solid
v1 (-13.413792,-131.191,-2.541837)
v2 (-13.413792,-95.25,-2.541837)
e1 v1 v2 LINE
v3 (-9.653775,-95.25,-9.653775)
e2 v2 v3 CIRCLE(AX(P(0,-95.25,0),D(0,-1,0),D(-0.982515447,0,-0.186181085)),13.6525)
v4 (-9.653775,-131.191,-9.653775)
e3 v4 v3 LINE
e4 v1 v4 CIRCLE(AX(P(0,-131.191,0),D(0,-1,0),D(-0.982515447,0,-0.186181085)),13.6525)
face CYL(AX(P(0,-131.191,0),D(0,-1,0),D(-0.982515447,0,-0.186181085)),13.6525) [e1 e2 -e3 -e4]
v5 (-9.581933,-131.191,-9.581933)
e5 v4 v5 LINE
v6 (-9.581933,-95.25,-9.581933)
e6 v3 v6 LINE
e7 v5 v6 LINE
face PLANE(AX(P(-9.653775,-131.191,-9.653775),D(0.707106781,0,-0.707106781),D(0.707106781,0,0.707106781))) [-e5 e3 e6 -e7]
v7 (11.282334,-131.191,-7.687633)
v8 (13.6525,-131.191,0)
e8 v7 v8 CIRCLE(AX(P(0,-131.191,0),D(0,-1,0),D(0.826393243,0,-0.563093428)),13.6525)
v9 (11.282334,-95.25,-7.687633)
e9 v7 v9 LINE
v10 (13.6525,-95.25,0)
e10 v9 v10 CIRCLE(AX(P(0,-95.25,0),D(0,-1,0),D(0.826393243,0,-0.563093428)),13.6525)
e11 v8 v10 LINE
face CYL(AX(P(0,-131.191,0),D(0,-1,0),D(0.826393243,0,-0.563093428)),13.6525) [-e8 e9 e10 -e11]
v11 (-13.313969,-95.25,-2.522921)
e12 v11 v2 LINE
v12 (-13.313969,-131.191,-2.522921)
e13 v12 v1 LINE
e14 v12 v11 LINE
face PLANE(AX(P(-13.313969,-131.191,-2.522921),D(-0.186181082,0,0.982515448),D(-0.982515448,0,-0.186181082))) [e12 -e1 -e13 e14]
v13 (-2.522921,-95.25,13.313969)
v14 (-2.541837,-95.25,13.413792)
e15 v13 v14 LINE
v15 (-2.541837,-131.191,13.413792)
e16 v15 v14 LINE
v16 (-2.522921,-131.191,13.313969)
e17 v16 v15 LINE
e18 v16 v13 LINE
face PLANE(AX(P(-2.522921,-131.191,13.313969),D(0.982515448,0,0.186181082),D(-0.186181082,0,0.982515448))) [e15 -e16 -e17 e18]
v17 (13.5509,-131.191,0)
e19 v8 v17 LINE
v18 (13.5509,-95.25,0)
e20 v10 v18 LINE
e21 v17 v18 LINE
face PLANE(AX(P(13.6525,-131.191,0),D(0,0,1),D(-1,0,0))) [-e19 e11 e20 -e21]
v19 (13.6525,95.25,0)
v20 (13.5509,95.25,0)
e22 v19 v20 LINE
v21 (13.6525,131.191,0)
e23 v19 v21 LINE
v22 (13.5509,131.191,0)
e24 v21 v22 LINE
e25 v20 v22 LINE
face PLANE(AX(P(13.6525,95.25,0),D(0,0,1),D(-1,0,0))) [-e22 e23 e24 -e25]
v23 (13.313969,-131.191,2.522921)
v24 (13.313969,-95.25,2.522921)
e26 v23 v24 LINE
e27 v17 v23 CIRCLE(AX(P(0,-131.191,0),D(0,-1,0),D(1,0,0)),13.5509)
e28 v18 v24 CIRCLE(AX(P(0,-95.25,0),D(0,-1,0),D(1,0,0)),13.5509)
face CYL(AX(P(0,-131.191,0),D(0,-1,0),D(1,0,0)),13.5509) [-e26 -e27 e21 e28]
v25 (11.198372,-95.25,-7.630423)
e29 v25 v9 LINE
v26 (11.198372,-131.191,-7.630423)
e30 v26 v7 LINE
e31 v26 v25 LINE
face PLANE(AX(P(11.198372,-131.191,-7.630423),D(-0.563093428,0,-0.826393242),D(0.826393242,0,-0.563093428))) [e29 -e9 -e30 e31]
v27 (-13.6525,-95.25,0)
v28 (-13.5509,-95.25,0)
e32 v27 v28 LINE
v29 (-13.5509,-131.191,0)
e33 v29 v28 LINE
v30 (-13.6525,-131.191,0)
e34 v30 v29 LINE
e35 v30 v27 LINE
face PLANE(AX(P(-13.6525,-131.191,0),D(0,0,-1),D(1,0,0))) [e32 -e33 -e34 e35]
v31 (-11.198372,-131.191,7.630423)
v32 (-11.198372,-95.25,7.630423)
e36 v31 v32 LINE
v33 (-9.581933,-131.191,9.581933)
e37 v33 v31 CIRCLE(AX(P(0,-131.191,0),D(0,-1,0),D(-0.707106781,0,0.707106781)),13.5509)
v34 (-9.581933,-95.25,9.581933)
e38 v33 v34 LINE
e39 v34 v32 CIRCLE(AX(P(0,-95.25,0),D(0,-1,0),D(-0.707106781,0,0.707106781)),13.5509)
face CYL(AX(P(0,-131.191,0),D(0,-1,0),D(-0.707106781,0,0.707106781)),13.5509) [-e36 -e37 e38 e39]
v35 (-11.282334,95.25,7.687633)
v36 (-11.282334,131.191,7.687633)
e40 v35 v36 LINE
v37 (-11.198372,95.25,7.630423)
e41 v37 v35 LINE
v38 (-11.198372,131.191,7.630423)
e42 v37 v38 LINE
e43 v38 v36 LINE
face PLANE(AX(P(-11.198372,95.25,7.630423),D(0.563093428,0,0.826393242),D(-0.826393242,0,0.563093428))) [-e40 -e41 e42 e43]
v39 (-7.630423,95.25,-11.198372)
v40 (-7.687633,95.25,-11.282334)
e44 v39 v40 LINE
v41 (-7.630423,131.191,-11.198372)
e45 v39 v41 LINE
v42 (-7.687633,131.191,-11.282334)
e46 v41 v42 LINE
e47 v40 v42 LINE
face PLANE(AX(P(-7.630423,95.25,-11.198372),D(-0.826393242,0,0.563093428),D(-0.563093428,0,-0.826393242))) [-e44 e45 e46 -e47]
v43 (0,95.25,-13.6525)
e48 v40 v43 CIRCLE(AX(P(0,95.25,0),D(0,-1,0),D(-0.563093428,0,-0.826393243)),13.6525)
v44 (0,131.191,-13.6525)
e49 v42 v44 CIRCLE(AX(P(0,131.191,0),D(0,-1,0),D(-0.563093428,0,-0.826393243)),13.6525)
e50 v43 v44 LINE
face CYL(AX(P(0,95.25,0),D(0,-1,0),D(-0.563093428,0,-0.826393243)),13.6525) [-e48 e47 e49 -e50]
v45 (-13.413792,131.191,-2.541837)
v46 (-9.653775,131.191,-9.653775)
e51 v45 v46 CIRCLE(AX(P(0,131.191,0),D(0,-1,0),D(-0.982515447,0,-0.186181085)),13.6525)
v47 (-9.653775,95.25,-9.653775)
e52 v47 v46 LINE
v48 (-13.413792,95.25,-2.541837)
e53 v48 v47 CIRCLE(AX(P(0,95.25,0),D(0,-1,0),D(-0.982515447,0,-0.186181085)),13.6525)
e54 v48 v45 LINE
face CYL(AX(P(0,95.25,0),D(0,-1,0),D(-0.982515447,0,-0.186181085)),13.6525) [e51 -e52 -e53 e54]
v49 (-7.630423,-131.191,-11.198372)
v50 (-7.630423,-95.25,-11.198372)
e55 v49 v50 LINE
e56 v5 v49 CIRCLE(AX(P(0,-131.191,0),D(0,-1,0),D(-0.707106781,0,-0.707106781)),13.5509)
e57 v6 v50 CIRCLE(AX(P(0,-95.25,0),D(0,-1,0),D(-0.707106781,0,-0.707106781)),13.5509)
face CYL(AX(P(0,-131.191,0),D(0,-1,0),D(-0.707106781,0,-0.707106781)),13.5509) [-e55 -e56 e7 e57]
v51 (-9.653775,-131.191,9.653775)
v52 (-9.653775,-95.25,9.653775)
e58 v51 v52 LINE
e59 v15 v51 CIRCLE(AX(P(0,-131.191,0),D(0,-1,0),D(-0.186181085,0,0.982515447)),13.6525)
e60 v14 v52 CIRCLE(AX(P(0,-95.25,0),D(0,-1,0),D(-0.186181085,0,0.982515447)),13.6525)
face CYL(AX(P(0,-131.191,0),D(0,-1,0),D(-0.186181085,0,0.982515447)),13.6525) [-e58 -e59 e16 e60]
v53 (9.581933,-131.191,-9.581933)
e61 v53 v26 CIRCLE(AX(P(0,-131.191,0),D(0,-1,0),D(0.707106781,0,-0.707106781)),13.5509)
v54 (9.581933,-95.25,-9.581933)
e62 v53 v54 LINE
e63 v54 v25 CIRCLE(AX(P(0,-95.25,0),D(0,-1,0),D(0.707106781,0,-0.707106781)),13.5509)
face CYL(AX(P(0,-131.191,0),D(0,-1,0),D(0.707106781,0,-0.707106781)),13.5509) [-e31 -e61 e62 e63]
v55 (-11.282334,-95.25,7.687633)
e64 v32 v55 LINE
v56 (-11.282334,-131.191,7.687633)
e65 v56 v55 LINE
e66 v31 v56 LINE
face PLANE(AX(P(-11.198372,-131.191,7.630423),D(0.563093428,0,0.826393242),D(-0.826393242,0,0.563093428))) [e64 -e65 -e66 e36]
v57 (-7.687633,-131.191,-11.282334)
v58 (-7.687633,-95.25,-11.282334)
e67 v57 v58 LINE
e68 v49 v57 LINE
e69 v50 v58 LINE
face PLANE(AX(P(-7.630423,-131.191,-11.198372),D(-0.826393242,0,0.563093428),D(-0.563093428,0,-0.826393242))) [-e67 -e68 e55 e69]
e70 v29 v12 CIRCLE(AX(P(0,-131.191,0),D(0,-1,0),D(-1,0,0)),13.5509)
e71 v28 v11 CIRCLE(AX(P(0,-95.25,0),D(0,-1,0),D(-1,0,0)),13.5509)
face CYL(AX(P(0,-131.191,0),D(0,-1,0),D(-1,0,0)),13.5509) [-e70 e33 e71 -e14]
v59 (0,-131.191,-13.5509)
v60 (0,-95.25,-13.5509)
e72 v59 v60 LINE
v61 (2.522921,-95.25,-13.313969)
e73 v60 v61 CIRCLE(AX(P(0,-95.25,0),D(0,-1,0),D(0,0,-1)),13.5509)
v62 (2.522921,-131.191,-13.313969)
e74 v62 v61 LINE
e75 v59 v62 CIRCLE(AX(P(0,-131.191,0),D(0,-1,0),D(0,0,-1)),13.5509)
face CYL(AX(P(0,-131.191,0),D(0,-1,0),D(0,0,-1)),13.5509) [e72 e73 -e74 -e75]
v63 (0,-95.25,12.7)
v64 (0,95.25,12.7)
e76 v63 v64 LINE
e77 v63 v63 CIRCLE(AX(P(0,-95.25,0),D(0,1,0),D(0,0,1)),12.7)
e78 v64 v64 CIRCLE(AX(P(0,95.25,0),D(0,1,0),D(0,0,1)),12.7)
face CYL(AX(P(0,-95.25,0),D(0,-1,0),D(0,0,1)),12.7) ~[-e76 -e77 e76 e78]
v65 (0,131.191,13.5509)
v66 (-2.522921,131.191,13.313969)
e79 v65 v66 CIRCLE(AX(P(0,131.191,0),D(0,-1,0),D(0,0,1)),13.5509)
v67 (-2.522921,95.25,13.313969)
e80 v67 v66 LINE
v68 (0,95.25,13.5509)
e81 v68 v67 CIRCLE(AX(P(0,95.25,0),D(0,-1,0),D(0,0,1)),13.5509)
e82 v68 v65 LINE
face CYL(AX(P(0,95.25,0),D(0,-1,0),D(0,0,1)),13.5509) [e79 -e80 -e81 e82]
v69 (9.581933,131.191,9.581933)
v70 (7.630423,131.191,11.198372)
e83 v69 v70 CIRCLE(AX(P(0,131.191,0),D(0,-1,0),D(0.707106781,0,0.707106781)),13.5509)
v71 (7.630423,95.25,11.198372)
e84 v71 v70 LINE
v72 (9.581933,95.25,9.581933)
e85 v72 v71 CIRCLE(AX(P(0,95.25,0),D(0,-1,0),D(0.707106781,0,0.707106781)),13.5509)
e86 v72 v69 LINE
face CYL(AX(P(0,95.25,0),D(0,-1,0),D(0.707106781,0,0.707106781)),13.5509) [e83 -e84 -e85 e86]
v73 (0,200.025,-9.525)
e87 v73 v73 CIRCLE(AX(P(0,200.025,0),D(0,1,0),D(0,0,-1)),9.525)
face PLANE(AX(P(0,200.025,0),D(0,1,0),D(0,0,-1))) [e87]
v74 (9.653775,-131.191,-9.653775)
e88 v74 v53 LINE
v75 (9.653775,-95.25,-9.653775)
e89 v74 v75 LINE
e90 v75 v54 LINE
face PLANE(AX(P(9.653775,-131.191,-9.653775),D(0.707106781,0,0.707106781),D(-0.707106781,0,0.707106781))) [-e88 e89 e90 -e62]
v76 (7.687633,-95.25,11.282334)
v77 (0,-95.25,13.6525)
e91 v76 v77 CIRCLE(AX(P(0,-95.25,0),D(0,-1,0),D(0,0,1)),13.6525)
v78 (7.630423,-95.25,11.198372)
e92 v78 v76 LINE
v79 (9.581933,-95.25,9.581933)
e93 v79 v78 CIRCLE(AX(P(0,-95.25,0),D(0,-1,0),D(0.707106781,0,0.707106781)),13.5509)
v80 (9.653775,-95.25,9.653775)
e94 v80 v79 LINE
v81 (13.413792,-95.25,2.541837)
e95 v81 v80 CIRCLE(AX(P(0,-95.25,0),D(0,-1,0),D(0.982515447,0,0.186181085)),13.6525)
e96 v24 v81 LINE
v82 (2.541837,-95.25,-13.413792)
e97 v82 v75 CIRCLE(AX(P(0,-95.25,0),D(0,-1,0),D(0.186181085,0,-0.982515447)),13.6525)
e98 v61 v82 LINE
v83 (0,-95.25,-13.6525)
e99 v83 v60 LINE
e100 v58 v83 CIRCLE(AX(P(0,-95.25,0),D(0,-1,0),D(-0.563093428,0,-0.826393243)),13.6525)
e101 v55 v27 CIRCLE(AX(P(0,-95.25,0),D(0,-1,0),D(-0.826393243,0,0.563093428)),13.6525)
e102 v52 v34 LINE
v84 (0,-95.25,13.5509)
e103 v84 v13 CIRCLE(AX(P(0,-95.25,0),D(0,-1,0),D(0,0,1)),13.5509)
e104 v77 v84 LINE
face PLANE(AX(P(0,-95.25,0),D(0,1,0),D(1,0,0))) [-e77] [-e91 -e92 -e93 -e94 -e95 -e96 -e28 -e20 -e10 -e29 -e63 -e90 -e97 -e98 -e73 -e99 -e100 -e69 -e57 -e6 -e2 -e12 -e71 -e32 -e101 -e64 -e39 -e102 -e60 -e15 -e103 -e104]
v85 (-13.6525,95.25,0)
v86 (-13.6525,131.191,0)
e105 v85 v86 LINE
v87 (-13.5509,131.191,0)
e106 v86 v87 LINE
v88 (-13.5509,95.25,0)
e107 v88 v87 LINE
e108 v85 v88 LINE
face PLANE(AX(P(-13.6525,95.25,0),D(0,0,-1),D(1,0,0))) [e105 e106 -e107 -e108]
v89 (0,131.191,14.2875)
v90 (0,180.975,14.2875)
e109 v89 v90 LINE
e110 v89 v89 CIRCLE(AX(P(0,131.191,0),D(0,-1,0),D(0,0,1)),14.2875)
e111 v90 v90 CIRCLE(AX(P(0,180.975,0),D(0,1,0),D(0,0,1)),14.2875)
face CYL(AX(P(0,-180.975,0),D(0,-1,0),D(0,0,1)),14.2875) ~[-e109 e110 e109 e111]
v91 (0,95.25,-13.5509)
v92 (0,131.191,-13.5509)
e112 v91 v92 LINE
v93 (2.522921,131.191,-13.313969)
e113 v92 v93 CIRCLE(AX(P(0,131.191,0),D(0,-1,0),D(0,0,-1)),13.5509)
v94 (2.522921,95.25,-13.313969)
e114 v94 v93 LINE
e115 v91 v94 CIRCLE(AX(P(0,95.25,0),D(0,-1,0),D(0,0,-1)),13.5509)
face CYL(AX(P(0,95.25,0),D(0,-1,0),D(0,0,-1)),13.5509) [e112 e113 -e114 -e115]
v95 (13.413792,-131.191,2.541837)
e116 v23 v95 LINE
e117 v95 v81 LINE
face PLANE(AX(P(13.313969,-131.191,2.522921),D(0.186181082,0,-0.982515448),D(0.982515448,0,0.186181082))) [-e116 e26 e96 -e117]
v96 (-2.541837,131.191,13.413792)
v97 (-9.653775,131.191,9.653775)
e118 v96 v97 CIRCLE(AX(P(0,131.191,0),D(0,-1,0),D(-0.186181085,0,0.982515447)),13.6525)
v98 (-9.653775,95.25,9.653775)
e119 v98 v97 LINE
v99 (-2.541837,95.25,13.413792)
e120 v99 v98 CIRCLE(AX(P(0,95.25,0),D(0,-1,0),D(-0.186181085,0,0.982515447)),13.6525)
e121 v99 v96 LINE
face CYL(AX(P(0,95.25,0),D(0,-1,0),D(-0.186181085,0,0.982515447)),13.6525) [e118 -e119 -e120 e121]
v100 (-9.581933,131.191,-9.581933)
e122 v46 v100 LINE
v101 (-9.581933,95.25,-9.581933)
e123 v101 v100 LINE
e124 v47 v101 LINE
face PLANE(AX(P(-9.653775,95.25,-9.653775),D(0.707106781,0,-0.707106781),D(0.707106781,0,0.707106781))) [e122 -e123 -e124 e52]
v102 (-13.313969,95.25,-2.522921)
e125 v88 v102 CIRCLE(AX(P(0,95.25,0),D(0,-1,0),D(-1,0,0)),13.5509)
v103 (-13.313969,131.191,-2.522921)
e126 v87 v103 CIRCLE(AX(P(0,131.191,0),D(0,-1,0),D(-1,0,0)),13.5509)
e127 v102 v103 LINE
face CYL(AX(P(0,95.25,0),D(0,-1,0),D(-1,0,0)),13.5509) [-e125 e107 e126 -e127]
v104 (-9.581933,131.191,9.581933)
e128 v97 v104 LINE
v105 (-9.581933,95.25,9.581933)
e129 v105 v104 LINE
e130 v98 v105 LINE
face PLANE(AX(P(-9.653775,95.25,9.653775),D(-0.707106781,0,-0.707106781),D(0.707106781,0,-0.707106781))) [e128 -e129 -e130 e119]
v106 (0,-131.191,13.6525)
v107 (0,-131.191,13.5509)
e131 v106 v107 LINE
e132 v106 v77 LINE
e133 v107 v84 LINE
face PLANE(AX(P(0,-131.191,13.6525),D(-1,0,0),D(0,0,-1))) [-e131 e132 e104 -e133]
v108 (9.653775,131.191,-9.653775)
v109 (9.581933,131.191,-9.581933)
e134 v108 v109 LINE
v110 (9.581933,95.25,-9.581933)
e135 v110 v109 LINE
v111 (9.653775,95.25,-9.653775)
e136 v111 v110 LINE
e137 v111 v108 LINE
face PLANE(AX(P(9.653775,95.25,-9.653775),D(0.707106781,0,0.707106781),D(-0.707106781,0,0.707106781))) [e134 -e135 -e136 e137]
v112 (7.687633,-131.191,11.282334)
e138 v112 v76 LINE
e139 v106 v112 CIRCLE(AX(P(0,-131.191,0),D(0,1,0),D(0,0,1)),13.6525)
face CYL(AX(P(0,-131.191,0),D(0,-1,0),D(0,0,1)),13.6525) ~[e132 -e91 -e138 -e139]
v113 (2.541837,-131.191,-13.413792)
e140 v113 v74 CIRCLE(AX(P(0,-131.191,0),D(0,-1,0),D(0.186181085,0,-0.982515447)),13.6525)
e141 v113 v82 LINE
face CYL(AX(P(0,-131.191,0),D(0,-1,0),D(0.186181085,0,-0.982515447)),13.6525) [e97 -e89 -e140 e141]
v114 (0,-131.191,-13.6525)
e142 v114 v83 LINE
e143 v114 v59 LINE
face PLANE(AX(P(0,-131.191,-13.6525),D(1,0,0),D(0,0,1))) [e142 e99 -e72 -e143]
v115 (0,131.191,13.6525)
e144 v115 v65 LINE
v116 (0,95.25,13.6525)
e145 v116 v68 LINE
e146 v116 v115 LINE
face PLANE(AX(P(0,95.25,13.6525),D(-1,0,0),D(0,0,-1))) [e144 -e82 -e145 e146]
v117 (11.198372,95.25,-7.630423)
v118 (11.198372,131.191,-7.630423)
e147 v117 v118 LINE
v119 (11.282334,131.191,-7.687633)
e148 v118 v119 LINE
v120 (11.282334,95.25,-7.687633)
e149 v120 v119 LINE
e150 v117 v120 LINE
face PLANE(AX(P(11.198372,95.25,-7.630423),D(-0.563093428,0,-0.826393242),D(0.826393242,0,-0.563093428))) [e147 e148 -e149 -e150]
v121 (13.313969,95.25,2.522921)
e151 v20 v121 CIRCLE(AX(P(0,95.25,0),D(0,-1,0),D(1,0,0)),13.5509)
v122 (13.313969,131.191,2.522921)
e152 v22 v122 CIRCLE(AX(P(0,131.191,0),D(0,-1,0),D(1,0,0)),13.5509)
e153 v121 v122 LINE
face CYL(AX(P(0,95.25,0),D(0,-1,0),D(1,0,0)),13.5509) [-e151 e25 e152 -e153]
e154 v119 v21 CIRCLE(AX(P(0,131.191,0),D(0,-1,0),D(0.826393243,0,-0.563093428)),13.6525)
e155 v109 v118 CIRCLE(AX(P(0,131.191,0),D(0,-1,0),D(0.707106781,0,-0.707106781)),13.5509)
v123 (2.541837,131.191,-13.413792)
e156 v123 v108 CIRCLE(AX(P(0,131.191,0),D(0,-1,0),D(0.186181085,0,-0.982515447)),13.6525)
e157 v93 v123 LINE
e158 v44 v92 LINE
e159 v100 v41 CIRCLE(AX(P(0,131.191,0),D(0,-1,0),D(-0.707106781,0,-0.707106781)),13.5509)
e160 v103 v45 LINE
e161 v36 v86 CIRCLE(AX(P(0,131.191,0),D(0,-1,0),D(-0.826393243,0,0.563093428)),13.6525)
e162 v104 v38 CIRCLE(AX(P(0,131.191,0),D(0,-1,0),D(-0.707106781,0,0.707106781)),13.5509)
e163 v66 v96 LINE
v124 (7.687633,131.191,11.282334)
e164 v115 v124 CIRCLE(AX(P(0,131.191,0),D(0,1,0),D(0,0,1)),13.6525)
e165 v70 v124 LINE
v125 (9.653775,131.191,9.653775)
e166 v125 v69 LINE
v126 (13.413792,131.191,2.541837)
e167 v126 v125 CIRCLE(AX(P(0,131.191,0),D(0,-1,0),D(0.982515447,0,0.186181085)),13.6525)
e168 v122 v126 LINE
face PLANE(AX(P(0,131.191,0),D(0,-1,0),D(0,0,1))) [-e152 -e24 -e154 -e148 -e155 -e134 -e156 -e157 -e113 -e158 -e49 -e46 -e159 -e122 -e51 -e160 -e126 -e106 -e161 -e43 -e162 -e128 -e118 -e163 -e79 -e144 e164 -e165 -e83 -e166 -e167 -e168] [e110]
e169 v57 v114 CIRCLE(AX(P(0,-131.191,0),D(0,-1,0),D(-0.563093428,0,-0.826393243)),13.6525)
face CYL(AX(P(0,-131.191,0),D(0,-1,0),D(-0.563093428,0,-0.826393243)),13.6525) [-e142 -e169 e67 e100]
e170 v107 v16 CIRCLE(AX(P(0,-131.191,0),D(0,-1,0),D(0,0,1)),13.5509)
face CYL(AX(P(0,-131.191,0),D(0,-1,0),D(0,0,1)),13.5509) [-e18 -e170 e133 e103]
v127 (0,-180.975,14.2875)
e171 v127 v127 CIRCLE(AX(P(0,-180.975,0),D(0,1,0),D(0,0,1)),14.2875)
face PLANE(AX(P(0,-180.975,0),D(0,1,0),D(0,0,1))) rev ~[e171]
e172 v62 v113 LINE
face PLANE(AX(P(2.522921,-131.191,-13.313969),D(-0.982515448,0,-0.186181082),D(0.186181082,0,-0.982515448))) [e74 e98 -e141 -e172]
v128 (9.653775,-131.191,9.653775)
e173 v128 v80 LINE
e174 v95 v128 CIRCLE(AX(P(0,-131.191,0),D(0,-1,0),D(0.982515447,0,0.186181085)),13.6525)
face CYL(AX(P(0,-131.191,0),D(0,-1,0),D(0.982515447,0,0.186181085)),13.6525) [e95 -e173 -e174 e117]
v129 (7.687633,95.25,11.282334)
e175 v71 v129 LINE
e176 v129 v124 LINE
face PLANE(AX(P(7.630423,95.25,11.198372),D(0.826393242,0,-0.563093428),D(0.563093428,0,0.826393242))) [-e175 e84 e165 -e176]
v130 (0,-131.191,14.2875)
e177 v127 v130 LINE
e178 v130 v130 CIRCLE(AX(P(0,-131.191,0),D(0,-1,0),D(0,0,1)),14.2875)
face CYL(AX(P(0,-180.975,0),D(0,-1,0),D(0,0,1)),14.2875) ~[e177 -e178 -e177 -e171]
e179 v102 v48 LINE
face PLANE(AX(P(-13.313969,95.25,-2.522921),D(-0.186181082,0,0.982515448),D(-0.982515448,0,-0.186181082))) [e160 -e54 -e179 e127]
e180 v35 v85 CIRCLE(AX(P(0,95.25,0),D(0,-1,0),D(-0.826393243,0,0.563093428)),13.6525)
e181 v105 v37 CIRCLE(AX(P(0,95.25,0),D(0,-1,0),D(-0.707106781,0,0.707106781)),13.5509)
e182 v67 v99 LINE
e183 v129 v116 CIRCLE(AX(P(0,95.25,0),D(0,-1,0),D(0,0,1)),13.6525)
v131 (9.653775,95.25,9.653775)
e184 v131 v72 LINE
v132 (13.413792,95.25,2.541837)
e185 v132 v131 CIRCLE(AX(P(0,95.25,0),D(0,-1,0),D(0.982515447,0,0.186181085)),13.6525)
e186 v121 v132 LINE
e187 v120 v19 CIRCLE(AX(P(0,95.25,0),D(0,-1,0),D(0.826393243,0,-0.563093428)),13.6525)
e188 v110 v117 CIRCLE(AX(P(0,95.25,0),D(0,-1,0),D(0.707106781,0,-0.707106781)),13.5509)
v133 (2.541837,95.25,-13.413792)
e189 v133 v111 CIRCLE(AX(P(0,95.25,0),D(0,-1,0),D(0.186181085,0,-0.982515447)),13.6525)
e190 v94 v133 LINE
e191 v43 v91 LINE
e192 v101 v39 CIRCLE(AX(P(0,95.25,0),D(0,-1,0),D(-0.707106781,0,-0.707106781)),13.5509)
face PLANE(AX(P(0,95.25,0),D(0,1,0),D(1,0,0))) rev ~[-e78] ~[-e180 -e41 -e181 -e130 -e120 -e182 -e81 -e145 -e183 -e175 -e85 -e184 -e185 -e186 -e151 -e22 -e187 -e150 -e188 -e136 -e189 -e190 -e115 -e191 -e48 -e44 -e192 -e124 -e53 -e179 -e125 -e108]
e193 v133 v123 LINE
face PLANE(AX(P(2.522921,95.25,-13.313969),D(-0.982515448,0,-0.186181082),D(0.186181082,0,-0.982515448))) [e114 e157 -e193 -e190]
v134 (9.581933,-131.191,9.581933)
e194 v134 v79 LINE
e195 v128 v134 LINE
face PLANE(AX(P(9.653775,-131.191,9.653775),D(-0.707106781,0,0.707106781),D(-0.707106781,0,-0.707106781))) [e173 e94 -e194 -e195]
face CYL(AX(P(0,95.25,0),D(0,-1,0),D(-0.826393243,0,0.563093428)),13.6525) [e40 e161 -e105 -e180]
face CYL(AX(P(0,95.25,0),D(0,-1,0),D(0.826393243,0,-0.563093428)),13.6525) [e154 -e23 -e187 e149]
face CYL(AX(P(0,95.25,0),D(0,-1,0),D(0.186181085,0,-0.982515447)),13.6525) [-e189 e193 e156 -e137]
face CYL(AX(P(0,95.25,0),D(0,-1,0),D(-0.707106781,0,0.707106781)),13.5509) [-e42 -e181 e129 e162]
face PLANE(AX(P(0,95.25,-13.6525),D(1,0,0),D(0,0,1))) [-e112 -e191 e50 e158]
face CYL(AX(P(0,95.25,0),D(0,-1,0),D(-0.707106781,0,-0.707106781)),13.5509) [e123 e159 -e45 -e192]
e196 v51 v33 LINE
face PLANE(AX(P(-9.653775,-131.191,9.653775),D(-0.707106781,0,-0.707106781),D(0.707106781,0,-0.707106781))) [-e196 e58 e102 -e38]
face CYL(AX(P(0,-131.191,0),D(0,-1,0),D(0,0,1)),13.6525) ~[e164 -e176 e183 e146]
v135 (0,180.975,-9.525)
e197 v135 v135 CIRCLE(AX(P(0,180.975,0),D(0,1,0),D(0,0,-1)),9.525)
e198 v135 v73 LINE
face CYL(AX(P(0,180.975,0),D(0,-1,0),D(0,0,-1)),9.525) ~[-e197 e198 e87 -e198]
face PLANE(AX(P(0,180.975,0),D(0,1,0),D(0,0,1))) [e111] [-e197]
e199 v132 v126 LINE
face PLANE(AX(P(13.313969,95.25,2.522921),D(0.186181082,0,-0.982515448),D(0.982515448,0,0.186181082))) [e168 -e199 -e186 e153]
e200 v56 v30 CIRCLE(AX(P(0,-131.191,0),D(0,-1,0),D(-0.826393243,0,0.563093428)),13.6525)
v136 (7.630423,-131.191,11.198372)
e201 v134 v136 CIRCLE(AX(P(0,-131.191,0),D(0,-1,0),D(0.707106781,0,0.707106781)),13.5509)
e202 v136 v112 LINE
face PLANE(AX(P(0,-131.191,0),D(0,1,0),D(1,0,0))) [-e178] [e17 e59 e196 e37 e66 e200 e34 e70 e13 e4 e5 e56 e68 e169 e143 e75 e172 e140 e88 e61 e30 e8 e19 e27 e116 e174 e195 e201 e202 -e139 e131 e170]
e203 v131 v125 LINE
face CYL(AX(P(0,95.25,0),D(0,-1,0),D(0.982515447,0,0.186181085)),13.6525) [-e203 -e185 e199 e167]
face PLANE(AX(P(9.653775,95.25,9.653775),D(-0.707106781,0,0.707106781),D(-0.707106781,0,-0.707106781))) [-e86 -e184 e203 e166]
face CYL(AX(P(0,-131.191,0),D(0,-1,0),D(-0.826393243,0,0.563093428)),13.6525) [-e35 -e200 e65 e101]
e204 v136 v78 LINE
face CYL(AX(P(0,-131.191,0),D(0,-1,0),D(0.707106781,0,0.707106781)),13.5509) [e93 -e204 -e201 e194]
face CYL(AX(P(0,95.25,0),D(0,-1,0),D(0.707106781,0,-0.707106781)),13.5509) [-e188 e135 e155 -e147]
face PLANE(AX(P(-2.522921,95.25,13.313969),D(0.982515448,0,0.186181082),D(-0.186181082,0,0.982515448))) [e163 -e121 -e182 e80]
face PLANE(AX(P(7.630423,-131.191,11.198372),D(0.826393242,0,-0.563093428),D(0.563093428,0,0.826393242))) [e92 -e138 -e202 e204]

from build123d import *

# Parameters (mm, degrees)
BOSS_EXTRUDE1_DEPTH      = 180.975
BOSS_EXTRUDE1_DEPTH_BACK = 180.975
SKETCH1_R                = 14.2875
CUT_EXTRUDE1_DEPTH       = 95.25
CUT_EXTRUDE1_DEPTH_BACK  = 95.25
SKETCH2_OUTSIDE_W        = 103.416
SKETCH2_OUTSIDE_H        = 103.416
SKETCH2_OUTSIDE_R        = 12.7
CUT_EXTRUDE2_DEPTH       = 131.191
CUT_EXTRUDE2_DEPTH_BACK  = 131.191
SKETCH3_OUTSIDE_W        = 103.416
SKETCH3_OUTSIDE_H        = 103.416
SKETCH3_OUTSIDE_R        = 13.6525
SKETCH5_OUTSIDE_W        = 103.416
SKETCH5_OUTSIDE_H        = 103.416
CUT_EXTRUDE4_DEPTH       = 35.941
CUT_EXTRUDE7_START       = 35.941
SKETCH6_R                = 14.2875
CUT_EXTRUDE7_DEPTH       = 35.941
SKETCH7_R                = 9.525
BOSS_EXTRUDE2_DEPTH      = 19.05


with BuildPart() as part:
    # Sketch1 → Boss-Extrude1 (new, two sides: drawn at the far end of the back side and taken through both)
    with BuildSketch(Plane(origin=(0, 0, 0), x_dir=(1, 0, 0), z_dir=(0, 1, 0)).offset(-BOSS_EXTRUDE1_DEPTH_BACK)):
        with Locations(Location((0, 0, 0), (0, 0, 270))):
            Circle(SKETCH1_R)
    extrude(amount=BOSS_EXTRUDE1_DEPTH + BOSS_EXTRUDE1_DEPTH_BACK)

    # Sketch2 outside → Cut-Extrude1 (cut, two sides: drawn at the far end of the back side and taken through both)
    with BuildSketch(Plane(origin=(0, 0, 0), x_dir=(1, 0, 0), z_dir=(0, 1, 0)).offset(-CUT_EXTRUDE1_DEPTH_BACK)):
        Rectangle(SKETCH2_OUTSIDE_W, SKETCH2_OUTSIDE_H)
        with Locations(Location((0, 0, 0), (0, 0, 270))):
            Circle(SKETCH2_OUTSIDE_R, mode=Mode.SUBTRACT)
    extrude(amount=CUT_EXTRUDE1_DEPTH + CUT_EXTRUDE1_DEPTH_BACK, mode=Mode.SUBTRACT)

    # Sketch3 outside → Cut-Extrude2 (cut, two sides: drawn at the far end of the back side and taken through both)
    with BuildSketch(Plane(origin=(0, 0, 0), x_dir=(1, 0, 0), z_dir=(0, 1, 0)).offset(-CUT_EXTRUDE2_DEPTH_BACK)):
        Rectangle(SKETCH3_OUTSIDE_W, SKETCH3_OUTSIDE_H)
        with Locations(Location((0, 0, 0), (0, 0, 270))):
            Circle(SKETCH3_OUTSIDE_R, mode=Mode.SUBTRACT)
    extrude(amount=CUT_EXTRUDE2_DEPTH + CUT_EXTRUDE2_DEPTH_BACK, mode=Mode.SUBTRACT)

    # Sketch5 outside → Cut-Extrude4 (cut)
    with BuildSketch(Plane(origin=(0, -131.191, 0), x_dir=(1, 0, 0), z_dir=(0, 1, 0))):
        Rectangle(SKETCH5_OUTSIDE_W, SKETCH5_OUTSIDE_H)
        with BuildLine():
            Line((0, -13.6525), (0, -13.5509))
            ThreePointArc((0, -13.5509), (-1.267011069, -13.491537116), (-2.522921262, -13.313968571))
            Line((-2.522921262, -13.313968571), (-2.54183726, -13.413792141))
            ThreePointArc((-2.54183726, -13.413792141), (-6.381040136, -12.069510472), (-9.65377533, -9.65377533))
            Line((-9.65377533, -9.65377533), (-9.581933281, -9.581933281))
            ThreePointArc((-9.581933281, -9.581933281), (-10.435869502, -8.644045265), (-11.198372194, -7.630422729))
            Line((-11.198372194, -7.630422729), (-11.282333747, -7.687633021))
            ThreePointArc((-11.282333747, -7.687633021), (-13.046509451, -4.022355949), (-13.6525, 0))
            Line((-13.6525, 0), (-13.5509, 0))
            ThreePointArc((-13.5509, 0), (-13.491537116, 1.267011069), (-13.313968571, 2.522921262))
            Line((-13.313968571, 2.522921262), (-13.413792141, 2.54183726))
            ThreePointArc((-13.413792141, 2.54183726), (-12.069510472, 6.381040136), (-9.65377533, 9.65377533))
            Line((-9.65377533, 9.65377533), (-9.581933281, 9.581933281))
            ThreePointArc((-9.581933281, 9.581933281), (-8.644045265, 10.435869502), (-7.630422729, 11.198372194))
            Line((-7.630422729, 11.198372194), (-7.687633021, 11.282333747))
            ThreePointArc((-7.687633021, 11.282333747), (-4.022355949, 13.046509451), (0, 13.6525))
            Line((0, 13.6525), (0, 13.5509))
            ThreePointArc((0, 13.5509), (1.267011069, 13.491537116), (2.522921262, 13.313968571))
            Line((2.522921262, 13.313968571), (2.54183726, 13.413792141))
            ThreePointArc((2.54183726, 13.413792141), (6.381040136, 12.069510472), (9.65377533, 9.65377533))
            Line((9.65377533, 9.65377533), (9.581933281, 9.581933281))
            ThreePointArc((9.581933281, 9.581933281), (10.435869502, 8.644045265), (11.198372194, 7.630422729))
            Line((11.198372194, 7.630422729), (11.282333747, 7.687633021))
            ThreePointArc((11.282333747, 7.687633021), (13.046509451, 4.022355949), (13.6525, 0))
            Line((13.6525, 0), (13.5509, 0))
            ThreePointArc((13.5509, 0), (13.491537116, -1.267011069), (13.313968571, -2.522921262))
            Line((13.313968571, -2.522921262), (13.413792141, -2.54183726))
            ThreePointArc((13.413792141, -2.54183726), (12.069510472, -6.381040136), (9.65377533, -9.65377533))
            Line((9.65377533, -9.65377533), (9.581933281, -9.581933281))
            ThreePointArc((9.581933281, -9.581933281), (8.644045265, -10.435869502), (7.630422729, -11.198372194))
            Line((7.630422729, -11.198372194), (7.687633021, -11.282333747))
            ThreePointArc((7.687633021, -11.282333747), (4.022355949, -13.046509451), (0, -13.6525))
        make_face(mode=Mode.SUBTRACT)
    extrude(amount=CUT_EXTRUDE4_DEPTH, mode=Mode.SUBTRACT)

    # Sketch6 → Cut-Extrude7 (cut)
    with BuildSketch(Plane.XZ.offset(-131.191).offset(CUT_EXTRUDE7_START)):
        with Locations(Location((0, 0, 0), (0, 0, 90))):
            Circle(SKETCH6_R)
        with BuildLine():
            Line((-13.6525, 0), (-13.5509, 0))
            ThreePointArc((-13.5509, 0), (-13.491537116, -1.267011069), (-13.313968571, -2.522921262))
            Line((-13.313968571, -2.522921262), (-13.413792141, -2.54183726))
            ThreePointArc((-13.413792141, -2.54183726), (-12.069510472, -6.381040136), (-9.65377533, -9.65377533))
            Line((-9.65377533, -9.65377533), (-9.581933281, -9.581933281))
            ThreePointArc((-9.581933281, -9.581933281), (-8.644045265, -10.435869502), (-7.630422729, -11.198372194))
            Line((-7.630422729, -11.198372194), (-7.687633021, -11.282333747))
            ThreePointArc((-7.687633021, -11.282333747), (-4.022355949, -13.046509451), (0, -13.6525))
            Line((0, -13.6525), (0, -13.5509))
            ThreePointArc((0, -13.5509), (1.267011069, -13.491537116), (2.522921262, -13.313968571))
            Line((2.522921262, -13.313968571), (2.54183726, -13.413792141))
            ThreePointArc((2.54183726, -13.413792141), (6.381040136, -12.069510472), (9.65377533, -9.65377533))
            Line((9.65377533, -9.65377533), (9.581933281, -9.581933281))
            ThreePointArc((9.581933281, -9.581933281), (10.435869502, -8.644045265), (11.198372194, -7.630422729))
            Line((11.198372194, -7.630422729), (11.282333747, -7.687633021))
            ThreePointArc((11.282333747, -7.687633021), (13.046509451, -4.022355949), (13.6525, 0))
            Line((13.6525, 0), (13.5509, 0))
            ThreePointArc((13.5509, 0), (13.491537116, 1.267011069), (13.313968571, 2.522921262))
            Line((13.313968571, 2.522921262), (13.413792141, 2.54183726))
            ThreePointArc((13.413792141, 2.54183726), (12.069510472, 6.381040136), (9.65377533, 9.65377533))
            Line((9.65377533, 9.65377533), (9.581933281, 9.581933281))
            ThreePointArc((9.581933281, 9.581933281), (8.644045265, 10.435869502), (7.630422729, 11.198372194))
            Line((7.630422729, 11.198372194), (7.687633021, 11.282333747))
            ThreePointArc((7.687633021, 11.282333747), (4.022355949, 13.046509451), (0, 13.6525))
            Line((0, 13.6525), (0, 13.5509))
            ThreePointArc((0, 13.5509), (-1.267011069, 13.491537116), (-2.522921262, 13.313968571))
            Line((-2.522921262, 13.313968571), (-2.54183726, 13.413792141))
            ThreePointArc((-2.54183726, 13.413792141), (-6.381040136, 12.069510472), (-9.65377533, 9.65377533))
            Line((-9.65377533, 9.65377533), (-9.581933281, 9.581933281))
            ThreePointArc((-9.581933281, 9.581933281), (-10.435869502, 8.644045265), (-11.198372194, 7.630422729))
            Line((-11.198372194, 7.630422729), (-11.282333747, 7.687633021))
            ThreePointArc((-11.282333747, 7.687633021), (-13.046509451, 4.022355949), (-13.6525, 0))
        make_face(mode=Mode.SUBTRACT)
    extrude(amount=-CUT_EXTRUDE7_DEPTH, mode=Mode.SUBTRACT)

    # Sketch7 → Boss-Extrude2 (add)
    with BuildSketch(Plane(origin=(0, 180.975, 0), x_dir=(1, 0, 0), z_dir=(0, 1, 0))):
        with Locations(Location((0, 0, 0), (0, 0, 90))):
            Circle(SKETCH7_R)
    extrude(amount=BOSS_EXTRUDE2_DEPTH)


solid = part.part
